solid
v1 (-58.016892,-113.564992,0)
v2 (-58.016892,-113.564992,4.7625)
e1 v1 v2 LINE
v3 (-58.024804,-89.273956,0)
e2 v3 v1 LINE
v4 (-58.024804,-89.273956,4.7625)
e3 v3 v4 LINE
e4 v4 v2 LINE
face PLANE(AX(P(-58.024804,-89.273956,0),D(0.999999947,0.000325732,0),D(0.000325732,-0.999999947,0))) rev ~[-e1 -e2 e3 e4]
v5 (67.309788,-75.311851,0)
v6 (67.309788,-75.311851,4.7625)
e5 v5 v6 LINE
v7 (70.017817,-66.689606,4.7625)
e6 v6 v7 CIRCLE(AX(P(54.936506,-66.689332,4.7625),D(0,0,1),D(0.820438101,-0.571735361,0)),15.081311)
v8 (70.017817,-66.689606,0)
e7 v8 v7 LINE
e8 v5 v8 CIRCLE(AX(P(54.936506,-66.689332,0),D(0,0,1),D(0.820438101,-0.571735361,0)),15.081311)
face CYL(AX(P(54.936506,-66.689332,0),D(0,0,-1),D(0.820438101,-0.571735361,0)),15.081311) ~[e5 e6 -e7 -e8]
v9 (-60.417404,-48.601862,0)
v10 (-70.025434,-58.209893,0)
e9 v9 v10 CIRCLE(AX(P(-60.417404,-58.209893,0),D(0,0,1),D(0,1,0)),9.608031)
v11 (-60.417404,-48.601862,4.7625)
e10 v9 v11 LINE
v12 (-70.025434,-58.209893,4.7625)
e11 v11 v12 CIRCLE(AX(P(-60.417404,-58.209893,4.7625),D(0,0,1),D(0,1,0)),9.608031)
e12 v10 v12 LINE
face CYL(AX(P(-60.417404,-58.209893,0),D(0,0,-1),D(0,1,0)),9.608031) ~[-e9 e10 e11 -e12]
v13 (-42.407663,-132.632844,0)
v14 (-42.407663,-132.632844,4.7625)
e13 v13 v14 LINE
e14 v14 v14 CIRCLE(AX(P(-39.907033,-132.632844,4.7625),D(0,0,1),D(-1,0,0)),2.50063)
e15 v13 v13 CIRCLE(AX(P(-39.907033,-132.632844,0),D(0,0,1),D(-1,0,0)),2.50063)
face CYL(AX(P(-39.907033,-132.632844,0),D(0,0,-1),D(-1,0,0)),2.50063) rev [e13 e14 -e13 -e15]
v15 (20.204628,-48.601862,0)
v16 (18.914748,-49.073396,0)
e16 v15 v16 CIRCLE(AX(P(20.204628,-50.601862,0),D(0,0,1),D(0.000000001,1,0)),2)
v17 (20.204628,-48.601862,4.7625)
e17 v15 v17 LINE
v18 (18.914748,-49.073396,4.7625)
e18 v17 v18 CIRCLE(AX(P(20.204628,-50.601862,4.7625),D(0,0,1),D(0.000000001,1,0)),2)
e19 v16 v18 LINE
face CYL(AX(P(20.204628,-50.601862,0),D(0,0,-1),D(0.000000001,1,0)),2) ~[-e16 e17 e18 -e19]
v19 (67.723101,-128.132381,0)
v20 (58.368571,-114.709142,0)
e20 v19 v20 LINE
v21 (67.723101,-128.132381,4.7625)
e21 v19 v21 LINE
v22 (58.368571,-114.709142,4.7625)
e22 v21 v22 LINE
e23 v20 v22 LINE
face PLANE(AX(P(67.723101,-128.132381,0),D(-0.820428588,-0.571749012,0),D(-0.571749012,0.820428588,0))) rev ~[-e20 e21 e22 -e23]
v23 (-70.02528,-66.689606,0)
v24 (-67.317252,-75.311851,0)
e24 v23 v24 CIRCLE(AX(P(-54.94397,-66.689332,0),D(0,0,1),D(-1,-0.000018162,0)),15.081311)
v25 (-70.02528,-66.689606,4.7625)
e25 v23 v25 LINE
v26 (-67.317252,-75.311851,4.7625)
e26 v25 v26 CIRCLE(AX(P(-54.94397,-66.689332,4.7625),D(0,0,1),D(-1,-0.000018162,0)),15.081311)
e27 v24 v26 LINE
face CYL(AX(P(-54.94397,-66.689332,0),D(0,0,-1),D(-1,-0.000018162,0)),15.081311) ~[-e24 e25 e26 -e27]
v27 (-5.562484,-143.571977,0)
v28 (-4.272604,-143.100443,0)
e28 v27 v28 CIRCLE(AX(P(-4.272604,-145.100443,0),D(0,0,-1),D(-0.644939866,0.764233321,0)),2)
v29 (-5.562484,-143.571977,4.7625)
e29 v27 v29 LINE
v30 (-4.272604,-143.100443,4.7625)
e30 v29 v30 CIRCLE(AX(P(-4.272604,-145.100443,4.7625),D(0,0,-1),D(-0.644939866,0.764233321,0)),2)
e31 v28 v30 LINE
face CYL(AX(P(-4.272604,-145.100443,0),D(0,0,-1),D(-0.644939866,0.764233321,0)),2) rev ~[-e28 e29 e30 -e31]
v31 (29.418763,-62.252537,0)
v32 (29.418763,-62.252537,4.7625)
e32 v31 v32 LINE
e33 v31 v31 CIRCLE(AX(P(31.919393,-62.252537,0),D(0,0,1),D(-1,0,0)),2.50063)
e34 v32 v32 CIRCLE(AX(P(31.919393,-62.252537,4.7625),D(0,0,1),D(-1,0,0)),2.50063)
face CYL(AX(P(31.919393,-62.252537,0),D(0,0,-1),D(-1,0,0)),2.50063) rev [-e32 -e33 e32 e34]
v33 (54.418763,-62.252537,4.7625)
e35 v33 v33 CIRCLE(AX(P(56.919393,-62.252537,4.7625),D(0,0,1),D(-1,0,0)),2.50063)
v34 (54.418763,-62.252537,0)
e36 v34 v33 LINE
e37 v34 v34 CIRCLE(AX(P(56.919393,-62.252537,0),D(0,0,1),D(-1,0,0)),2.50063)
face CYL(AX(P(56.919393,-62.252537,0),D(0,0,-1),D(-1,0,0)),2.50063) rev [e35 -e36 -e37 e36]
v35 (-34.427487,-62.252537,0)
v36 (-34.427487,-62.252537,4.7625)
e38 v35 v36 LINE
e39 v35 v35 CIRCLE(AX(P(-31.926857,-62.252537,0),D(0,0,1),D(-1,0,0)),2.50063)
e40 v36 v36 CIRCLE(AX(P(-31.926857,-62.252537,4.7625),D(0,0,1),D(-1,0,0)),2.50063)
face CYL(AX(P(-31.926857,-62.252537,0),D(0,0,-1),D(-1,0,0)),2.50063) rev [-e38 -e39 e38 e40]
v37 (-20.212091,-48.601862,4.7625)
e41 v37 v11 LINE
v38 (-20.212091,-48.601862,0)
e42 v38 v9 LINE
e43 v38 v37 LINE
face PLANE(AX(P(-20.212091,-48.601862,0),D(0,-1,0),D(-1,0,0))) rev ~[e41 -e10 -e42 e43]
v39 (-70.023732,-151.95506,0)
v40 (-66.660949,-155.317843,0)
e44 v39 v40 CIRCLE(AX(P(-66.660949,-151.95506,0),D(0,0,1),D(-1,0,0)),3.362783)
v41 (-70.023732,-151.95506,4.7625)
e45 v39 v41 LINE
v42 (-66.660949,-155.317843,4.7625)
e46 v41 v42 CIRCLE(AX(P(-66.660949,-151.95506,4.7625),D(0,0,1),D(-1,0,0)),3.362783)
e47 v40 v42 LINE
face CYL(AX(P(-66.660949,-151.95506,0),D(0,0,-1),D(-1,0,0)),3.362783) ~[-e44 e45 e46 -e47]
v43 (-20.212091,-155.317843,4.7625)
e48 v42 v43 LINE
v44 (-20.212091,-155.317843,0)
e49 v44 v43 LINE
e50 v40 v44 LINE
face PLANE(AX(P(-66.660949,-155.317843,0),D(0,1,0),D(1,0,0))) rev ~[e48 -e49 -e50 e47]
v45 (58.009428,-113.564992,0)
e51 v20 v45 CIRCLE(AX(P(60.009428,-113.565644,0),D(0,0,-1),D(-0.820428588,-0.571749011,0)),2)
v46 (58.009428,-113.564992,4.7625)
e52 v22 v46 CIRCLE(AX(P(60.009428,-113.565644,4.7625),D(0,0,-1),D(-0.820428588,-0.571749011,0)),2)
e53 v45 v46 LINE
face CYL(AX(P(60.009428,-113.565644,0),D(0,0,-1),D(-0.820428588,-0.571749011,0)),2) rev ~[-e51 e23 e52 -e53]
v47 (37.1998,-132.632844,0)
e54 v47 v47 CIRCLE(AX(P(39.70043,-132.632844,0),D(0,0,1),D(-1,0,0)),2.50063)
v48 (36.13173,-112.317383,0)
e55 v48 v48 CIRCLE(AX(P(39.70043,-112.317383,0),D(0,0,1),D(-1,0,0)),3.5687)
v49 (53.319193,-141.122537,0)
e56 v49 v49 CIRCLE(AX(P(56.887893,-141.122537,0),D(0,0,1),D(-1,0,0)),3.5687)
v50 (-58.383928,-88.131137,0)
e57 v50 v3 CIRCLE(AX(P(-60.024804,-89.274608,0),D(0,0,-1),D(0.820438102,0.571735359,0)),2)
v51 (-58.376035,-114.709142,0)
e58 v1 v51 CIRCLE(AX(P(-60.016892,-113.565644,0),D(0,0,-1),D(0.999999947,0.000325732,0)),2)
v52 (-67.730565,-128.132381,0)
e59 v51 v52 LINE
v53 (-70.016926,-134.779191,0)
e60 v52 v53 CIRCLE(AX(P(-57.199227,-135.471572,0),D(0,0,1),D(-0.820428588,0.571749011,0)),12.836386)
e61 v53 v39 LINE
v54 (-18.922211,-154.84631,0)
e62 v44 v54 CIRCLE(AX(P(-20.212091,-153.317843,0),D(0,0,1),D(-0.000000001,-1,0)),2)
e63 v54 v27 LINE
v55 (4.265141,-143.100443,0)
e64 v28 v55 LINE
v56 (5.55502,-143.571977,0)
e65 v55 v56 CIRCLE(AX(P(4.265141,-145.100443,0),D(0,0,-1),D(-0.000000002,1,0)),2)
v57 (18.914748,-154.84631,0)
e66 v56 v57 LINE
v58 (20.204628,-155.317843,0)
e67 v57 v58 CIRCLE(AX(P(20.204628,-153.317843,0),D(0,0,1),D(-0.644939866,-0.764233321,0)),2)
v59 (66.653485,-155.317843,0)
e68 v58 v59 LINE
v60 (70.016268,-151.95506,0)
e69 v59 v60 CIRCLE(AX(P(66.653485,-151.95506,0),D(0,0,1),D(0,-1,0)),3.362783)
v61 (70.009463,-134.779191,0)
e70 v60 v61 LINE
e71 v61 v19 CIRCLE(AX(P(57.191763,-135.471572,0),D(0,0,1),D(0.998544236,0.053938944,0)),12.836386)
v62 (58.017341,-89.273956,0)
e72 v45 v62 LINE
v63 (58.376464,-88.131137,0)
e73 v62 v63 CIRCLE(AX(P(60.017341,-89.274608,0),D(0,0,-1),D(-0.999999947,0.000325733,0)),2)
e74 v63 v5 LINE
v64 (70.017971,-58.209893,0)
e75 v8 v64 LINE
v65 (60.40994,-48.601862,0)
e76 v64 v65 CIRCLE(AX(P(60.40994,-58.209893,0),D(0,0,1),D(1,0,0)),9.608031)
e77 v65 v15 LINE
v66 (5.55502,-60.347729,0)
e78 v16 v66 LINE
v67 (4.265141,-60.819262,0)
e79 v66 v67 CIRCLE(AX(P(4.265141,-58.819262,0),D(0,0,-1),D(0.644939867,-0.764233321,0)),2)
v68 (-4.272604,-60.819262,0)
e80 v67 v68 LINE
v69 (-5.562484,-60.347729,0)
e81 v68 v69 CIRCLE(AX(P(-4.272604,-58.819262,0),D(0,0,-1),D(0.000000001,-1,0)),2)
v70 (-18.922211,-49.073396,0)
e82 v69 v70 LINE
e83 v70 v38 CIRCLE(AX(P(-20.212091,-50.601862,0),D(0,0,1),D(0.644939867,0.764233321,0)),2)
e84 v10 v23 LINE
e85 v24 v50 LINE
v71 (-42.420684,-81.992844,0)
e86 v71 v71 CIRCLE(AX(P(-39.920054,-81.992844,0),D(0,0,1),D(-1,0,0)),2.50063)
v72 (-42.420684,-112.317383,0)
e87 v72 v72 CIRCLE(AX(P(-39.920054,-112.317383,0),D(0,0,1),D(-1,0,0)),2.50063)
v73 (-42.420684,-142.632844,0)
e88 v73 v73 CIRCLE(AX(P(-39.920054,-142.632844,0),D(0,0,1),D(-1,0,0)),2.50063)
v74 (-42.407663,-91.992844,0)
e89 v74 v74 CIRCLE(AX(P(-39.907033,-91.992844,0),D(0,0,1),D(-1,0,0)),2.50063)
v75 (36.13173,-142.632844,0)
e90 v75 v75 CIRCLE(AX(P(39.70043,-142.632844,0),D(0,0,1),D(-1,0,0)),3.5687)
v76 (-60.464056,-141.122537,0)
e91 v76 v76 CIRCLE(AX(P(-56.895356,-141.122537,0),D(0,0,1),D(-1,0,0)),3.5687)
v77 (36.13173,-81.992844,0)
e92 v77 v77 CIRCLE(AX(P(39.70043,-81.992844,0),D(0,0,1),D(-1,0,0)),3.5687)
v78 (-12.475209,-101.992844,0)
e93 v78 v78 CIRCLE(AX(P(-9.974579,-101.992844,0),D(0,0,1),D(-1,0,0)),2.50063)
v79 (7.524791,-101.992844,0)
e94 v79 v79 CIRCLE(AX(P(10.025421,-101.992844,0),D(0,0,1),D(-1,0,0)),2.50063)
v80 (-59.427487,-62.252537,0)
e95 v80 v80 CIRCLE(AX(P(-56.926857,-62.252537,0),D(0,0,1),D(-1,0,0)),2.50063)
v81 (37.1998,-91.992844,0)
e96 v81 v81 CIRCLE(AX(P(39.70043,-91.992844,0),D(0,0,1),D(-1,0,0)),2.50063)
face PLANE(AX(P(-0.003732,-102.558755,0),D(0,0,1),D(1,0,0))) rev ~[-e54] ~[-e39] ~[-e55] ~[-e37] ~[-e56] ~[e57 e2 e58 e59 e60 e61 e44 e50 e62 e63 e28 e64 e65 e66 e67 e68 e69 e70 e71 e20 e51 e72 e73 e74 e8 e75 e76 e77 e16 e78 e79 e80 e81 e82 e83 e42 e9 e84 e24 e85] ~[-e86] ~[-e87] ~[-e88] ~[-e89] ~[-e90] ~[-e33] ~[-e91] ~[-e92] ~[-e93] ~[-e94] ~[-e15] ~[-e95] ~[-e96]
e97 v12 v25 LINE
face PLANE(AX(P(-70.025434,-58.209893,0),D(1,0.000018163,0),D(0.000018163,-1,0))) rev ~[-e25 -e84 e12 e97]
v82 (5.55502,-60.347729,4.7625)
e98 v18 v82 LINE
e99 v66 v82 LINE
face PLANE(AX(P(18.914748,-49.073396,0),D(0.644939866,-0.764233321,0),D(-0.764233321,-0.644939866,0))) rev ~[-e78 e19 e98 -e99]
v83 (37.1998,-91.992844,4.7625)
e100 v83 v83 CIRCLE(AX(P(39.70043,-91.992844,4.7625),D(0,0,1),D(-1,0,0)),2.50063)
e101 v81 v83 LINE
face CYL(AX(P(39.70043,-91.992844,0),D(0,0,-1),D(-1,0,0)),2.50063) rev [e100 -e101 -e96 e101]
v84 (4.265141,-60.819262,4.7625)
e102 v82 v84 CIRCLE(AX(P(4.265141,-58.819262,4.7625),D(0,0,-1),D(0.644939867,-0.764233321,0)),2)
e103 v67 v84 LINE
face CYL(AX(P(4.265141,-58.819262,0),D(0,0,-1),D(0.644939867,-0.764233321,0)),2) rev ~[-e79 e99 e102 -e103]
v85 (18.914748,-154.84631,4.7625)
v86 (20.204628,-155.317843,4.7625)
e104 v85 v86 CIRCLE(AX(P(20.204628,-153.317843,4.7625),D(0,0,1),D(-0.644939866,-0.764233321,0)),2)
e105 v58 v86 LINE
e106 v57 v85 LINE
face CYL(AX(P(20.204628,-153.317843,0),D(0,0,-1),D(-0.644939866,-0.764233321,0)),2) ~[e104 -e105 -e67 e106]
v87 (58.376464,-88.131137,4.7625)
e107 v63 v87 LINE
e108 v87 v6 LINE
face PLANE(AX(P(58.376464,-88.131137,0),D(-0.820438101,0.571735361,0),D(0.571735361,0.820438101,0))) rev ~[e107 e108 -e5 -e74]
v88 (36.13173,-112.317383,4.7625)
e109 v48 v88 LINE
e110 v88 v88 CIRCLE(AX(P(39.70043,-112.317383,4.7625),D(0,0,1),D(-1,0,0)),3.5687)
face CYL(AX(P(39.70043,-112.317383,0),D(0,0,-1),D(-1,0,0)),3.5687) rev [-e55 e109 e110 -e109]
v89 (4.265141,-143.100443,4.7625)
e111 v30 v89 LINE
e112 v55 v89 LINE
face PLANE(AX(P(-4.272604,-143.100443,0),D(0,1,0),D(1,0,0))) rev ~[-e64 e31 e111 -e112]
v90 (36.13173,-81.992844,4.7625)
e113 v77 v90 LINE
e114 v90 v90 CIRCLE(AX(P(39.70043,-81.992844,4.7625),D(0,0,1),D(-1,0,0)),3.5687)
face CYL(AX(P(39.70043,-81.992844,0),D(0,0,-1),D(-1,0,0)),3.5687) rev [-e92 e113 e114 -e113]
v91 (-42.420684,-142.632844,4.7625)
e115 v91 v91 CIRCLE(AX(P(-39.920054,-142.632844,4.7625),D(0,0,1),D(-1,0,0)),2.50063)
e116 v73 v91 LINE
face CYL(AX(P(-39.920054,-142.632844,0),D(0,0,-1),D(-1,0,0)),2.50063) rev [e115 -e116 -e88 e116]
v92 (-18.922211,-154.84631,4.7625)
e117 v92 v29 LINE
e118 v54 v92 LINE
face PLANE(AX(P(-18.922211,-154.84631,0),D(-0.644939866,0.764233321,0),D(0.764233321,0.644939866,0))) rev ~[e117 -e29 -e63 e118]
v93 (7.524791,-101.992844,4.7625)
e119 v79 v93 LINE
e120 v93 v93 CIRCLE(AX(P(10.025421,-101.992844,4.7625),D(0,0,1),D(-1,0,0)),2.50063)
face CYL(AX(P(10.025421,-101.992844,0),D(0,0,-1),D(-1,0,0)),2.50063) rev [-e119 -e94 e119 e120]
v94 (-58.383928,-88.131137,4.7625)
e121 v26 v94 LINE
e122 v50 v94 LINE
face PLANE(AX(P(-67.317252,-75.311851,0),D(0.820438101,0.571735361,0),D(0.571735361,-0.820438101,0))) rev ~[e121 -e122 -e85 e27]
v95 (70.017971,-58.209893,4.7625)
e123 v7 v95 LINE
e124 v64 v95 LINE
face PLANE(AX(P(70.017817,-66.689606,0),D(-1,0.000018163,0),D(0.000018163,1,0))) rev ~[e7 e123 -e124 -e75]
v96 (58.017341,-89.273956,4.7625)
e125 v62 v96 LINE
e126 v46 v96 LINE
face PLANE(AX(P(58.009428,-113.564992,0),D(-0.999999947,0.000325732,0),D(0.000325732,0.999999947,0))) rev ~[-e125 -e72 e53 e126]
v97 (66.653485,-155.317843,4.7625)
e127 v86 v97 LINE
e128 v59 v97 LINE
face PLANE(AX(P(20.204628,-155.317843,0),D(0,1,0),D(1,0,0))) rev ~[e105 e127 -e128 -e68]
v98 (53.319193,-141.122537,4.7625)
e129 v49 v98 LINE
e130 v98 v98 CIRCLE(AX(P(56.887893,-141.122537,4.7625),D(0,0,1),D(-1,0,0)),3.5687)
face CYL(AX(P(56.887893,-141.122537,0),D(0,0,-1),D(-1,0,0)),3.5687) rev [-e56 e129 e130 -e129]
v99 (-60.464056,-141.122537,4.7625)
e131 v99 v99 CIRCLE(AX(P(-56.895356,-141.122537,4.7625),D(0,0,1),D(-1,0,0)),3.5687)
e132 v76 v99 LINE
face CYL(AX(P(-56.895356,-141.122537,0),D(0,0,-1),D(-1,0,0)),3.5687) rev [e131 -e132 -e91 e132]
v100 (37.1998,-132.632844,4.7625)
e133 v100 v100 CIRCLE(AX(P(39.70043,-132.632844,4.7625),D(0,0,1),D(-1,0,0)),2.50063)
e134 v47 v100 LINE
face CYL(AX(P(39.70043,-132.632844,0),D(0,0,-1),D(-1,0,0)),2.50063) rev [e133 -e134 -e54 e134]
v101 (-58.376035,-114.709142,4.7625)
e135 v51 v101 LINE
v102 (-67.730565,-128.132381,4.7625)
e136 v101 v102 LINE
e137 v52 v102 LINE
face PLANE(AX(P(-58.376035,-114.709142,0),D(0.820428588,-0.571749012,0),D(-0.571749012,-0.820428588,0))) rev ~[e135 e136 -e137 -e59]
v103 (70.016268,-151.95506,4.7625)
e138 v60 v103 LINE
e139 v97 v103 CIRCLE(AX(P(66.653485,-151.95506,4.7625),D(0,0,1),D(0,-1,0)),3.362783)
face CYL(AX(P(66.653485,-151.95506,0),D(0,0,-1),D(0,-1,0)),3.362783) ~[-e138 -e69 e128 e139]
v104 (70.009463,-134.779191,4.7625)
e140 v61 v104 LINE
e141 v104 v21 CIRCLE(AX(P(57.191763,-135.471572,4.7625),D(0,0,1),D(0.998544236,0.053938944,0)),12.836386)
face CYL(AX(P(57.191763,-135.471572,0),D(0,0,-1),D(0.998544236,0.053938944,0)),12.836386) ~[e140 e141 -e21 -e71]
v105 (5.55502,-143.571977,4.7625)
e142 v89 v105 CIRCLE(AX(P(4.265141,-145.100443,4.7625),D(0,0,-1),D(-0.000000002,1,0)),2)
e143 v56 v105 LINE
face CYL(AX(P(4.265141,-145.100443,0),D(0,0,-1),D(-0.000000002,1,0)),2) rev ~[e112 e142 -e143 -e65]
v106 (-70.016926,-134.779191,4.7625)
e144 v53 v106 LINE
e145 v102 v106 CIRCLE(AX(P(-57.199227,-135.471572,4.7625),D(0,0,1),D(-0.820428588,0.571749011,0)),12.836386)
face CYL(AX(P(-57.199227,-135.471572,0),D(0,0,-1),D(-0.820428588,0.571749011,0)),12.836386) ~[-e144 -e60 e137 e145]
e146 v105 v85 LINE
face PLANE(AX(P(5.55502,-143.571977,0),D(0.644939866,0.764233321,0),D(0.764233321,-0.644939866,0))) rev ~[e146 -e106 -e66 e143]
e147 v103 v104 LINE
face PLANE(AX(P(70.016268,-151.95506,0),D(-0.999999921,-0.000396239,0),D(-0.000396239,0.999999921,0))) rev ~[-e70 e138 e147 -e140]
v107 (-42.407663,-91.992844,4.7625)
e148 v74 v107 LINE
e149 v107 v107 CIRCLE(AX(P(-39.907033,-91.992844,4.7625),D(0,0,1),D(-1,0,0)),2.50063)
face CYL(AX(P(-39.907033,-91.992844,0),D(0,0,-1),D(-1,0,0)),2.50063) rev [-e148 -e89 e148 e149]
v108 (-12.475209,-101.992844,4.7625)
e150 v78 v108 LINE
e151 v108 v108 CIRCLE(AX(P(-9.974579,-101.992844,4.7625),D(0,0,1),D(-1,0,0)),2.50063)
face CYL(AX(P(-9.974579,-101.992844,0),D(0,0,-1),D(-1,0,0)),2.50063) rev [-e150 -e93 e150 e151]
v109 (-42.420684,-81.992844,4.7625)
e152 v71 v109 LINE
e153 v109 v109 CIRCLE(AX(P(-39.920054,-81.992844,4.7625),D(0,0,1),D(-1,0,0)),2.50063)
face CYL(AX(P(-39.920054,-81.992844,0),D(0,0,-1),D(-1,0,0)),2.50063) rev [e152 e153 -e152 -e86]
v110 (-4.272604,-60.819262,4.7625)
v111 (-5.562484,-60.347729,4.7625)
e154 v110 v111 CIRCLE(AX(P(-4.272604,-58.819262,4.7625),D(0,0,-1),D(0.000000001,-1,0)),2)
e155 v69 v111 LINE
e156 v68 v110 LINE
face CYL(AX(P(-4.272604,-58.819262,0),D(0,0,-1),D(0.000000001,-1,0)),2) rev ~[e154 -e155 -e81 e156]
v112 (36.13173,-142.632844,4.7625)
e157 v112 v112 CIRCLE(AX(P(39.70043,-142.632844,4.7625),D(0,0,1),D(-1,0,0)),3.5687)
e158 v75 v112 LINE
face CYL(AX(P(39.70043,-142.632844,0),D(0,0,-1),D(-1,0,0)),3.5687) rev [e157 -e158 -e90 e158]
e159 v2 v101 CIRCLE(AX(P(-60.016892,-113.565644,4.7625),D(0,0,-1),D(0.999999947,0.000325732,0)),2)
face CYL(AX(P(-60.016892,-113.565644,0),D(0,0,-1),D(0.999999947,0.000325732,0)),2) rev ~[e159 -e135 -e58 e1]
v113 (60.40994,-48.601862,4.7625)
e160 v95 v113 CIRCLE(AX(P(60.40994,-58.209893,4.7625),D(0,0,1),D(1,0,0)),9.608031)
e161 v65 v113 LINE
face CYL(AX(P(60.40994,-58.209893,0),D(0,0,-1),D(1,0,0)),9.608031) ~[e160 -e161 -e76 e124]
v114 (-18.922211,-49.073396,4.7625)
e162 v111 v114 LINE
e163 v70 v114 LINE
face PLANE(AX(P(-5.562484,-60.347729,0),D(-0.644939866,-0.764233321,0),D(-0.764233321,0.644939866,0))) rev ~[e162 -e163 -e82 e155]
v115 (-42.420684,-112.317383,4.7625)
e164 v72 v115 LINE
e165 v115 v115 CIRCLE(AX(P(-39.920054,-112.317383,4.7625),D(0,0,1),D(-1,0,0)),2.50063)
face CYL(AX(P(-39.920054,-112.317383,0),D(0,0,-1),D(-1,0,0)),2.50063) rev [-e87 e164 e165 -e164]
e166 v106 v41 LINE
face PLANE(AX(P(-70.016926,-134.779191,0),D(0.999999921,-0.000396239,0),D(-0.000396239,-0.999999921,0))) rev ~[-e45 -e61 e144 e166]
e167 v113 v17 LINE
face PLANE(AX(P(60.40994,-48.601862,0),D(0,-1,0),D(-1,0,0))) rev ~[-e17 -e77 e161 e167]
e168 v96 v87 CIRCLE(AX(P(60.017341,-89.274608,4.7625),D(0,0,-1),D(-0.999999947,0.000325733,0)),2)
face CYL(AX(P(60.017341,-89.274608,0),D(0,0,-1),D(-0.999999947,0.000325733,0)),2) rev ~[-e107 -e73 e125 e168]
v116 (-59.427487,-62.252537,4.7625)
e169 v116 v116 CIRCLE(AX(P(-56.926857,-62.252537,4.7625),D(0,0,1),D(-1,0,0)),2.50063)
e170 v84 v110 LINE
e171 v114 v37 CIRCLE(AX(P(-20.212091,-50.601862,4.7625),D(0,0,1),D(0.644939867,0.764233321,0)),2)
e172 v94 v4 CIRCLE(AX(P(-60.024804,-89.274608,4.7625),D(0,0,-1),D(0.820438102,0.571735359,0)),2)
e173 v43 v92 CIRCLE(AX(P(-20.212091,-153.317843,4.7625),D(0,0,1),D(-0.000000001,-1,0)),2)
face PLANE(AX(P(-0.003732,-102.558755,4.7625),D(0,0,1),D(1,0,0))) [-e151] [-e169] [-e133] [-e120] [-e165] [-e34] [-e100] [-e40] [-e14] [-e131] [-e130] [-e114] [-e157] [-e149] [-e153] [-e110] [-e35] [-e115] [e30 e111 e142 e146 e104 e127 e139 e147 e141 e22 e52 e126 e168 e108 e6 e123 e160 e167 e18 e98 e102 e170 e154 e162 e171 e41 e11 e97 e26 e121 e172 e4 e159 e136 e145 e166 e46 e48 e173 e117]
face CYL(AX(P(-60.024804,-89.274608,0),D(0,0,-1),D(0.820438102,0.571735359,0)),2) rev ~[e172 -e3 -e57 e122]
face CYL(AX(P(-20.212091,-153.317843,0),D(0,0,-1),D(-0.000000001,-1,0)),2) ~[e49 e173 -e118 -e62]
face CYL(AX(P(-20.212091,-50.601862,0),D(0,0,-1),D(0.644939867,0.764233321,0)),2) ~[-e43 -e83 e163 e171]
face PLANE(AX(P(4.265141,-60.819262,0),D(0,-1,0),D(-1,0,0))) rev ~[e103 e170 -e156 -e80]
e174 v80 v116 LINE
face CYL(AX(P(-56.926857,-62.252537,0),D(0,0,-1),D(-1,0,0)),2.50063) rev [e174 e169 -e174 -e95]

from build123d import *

# Parameters (mm, degrees)
SKETCH2_R           = 2.50063
SKETCH2_R_2         = 3.5687
BOSS_EXTRUDE1_DEPTH = 4.7625


with BuildPart() as part:
    # Sketch2 → Boss-Extrude1 (new body)
    with BuildSketch(Plane.XY):
        with BuildLine():
            Line((20.204627806, -155.317842979), (66.653485088, -155.317842979))
            ThreePointArc((66.653485088, -155.317842979), (69.031331892, -154.332906584), (70.016268288, -151.95505978))
            Line((70.016268288, -151.95505978), (70.009462537, -134.779191139))
            ThreePointArc((70.009462537, -134.779191139), (69.330107736, -131.296239945), (67.723101309, -128.132381176))
            Line((67.723101309, -128.132381176), (58.368571144, -114.709141578))
            ThreePointArc((58.368571144, -114.709141578), (58.101227711, -114.164618042), (58.009428426, -113.56499209))
            Line((58.009428426, -113.56499209), (58.017340801, -89.273956224))
            ThreePointArc((58.017340801, -89.273956224), (58.109330305, -88.675027543), (58.376464494, -88.131136967))
            Line((58.376464494, -88.131136967), (67.309788153, -75.311850981))
            ThreePointArc((67.309788153, -75.311850981), (69.324850125, -71.208346949), (70.017816939, -66.689606297))
            Line((70.017816939, -66.689606297), (70.017970953, -58.209892985))
            ThreePointArc((70.017970953, -58.209892985), (67.203843889, -51.415989261), (60.409940165, -48.601862197))
            Line((60.409940165, -48.601862197), (20.204627806, -48.601862197))
            ThreePointArc((20.204627806, -48.601862197), (19.517944941, -48.72344088), (18.914748074, -49.073395554))
            Line((18.914748074, -49.073395554), (5.555020387, -60.347728592))
            ThreePointArc((5.555020387, -60.347728592), (4.951823521, -60.697683266), (4.265140655, -60.819261949))
            Line((4.265140655, -60.819261949), (-4.272604079, -60.819261949))
            ThreePointArc((-4.272604079, -60.819261949), (-4.959286944, -60.697683266), (-5.562483811, -60.347728592))
            Line((-5.562483811, -60.347728592), (-18.922211498, -49.073395554))
            ThreePointArc((-18.922211498, -49.073395554), (-19.525408364, -48.72344088), (-20.212091229, -48.601862197))
            Line((-20.212091229, -48.601862197), (-60.417403588, -48.601862197))
            ThreePointArc((-60.417403588, -48.601862197), (-67.211307313, -51.415989261), (-70.025434377, -58.209892985))
            Line((-70.025434377, -58.209892985), (-70.025280362, -66.689606297))
            ThreePointArc((-70.025280362, -66.689606297), (-69.332313549, -71.208346949), (-67.317251577, -75.311850981))
            Line((-67.317251577, -75.311850981), (-58.383927917, -88.131136967))
            ThreePointArc((-58.383927917, -88.131136967), (-58.116793729, -88.675027543), (-58.024804225, -89.273956224))
            Line((-58.024804225, -89.273956224), (-58.01689185, -113.56499209))
            ThreePointArc((-58.01689185, -113.56499209), (-58.108691135, -114.164618042), (-58.376034568, -114.709141578))
            Line((-58.376034568, -114.709141578), (-67.730564733, -128.132381176))
            ThreePointArc((-67.730564733, -128.132381176), (-69.337571159, -131.296239945), (-70.016925961, -134.779191139))
            Line((-70.016925961, -134.779191139), (-70.023731711, -151.95505978))
            ThreePointArc((-70.023731711, -151.95505978), (-69.038795316, -154.332906584), (-66.660948512, -155.317842979))
            Line((-66.660948512, -155.317842979), (-20.212091229, -155.317842979))
            ThreePointArc((-20.212091229, -155.317842979), (-19.525408364, -155.196264296), (-18.922211498, -154.846309622))
            Line((-18.922211498, -154.846309622), (-5.562483811, -143.571976584))
            ThreePointArc((-5.562483811, -143.571976584), (-4.959286944, -143.22202191), (-4.272604079, -143.100443227))
            Line((-4.272604079, -143.100443227), (4.265140655, -143.100443227))
            ThreePointArc((4.265140655, -143.100443227), (4.951823521, -143.22202191), (5.555020387, -143.571976584))
            Line((5.555020387, -143.571976584), (18.914748074, -154.846309622))
            ThreePointArc((18.914748074, -154.846309622), (19.517944941, -155.196264296), (20.204627806, -155.317842979))
        make_face()
        with Locations((-56.926856711, -62.252536918)):
            Circle(SKETCH2_R, mode=Mode.SUBTRACT)
        with Locations((-31.926856712, -62.252536918)):
            Circle(SKETCH2_R, mode=Mode.SUBTRACT)
        with Locations((31.919393288, -62.252536918)):
            Circle(SKETCH2_R, mode=Mode.SUBTRACT)
        with Locations((56.919393288, -62.252536918)):
            Circle(SKETCH2_R, mode=Mode.SUBTRACT)
        with Locations((-39.920054199, -81.992843779)):
            Circle(SKETCH2_R, mode=Mode.SUBTRACT)
        with Locations((-39.907032742, -91.992843779)):
            Circle(SKETCH2_R, mode=Mode.SUBTRACT)
        with Locations((-39.920054199, -112.317382635)):
            Circle(SKETCH2_R, mode=Mode.SUBTRACT)
        with Locations((-39.907032742, -132.632843676)):
            Circle(SKETCH2_R, mode=Mode.SUBTRACT)
        with Locations((-39.920054199, -142.632843676)):
            Circle(SKETCH2_R, mode=Mode.SUBTRACT)
        with Locations((10.02542097, -101.992843779)):
            Circle(SKETCH2_R, mode=Mode.SUBTRACT)
        with Locations((-9.97457903, -101.992843779)):
            Circle(SKETCH2_R, mode=Mode.SUBTRACT)
        with Locations((39.700429549, -91.992843779)):
            Circle(SKETCH2_R, mode=Mode.SUBTRACT)
        with Locations((39.700429549, -132.632843676)):
            Circle(SKETCH2_R, mode=Mode.SUBTRACT)
        with Locations((-56.895356292, -141.122536917)):
            Circle(SKETCH2_R_2, mode=Mode.SUBTRACT)
        with Locations((39.700429549, -142.632843676)):
            Circle(SKETCH2_R_2, mode=Mode.SUBTRACT)
        with Locations((39.700429549, -112.317382635)):
            Circle(SKETCH2_R_2, mode=Mode.SUBTRACT)
        with Locations((39.700429549, -81.992843779)):
            Circle(SKETCH2_R_2, mode=Mode.SUBTRACT)
        with Locations((56.887892868, -141.122536917)):
            Circle(SKETCH2_R_2, mode=Mode.SUBTRACT)
    extrude(amount=BOSS_EXTRUDE1_DEPTH)


solid = part.part
